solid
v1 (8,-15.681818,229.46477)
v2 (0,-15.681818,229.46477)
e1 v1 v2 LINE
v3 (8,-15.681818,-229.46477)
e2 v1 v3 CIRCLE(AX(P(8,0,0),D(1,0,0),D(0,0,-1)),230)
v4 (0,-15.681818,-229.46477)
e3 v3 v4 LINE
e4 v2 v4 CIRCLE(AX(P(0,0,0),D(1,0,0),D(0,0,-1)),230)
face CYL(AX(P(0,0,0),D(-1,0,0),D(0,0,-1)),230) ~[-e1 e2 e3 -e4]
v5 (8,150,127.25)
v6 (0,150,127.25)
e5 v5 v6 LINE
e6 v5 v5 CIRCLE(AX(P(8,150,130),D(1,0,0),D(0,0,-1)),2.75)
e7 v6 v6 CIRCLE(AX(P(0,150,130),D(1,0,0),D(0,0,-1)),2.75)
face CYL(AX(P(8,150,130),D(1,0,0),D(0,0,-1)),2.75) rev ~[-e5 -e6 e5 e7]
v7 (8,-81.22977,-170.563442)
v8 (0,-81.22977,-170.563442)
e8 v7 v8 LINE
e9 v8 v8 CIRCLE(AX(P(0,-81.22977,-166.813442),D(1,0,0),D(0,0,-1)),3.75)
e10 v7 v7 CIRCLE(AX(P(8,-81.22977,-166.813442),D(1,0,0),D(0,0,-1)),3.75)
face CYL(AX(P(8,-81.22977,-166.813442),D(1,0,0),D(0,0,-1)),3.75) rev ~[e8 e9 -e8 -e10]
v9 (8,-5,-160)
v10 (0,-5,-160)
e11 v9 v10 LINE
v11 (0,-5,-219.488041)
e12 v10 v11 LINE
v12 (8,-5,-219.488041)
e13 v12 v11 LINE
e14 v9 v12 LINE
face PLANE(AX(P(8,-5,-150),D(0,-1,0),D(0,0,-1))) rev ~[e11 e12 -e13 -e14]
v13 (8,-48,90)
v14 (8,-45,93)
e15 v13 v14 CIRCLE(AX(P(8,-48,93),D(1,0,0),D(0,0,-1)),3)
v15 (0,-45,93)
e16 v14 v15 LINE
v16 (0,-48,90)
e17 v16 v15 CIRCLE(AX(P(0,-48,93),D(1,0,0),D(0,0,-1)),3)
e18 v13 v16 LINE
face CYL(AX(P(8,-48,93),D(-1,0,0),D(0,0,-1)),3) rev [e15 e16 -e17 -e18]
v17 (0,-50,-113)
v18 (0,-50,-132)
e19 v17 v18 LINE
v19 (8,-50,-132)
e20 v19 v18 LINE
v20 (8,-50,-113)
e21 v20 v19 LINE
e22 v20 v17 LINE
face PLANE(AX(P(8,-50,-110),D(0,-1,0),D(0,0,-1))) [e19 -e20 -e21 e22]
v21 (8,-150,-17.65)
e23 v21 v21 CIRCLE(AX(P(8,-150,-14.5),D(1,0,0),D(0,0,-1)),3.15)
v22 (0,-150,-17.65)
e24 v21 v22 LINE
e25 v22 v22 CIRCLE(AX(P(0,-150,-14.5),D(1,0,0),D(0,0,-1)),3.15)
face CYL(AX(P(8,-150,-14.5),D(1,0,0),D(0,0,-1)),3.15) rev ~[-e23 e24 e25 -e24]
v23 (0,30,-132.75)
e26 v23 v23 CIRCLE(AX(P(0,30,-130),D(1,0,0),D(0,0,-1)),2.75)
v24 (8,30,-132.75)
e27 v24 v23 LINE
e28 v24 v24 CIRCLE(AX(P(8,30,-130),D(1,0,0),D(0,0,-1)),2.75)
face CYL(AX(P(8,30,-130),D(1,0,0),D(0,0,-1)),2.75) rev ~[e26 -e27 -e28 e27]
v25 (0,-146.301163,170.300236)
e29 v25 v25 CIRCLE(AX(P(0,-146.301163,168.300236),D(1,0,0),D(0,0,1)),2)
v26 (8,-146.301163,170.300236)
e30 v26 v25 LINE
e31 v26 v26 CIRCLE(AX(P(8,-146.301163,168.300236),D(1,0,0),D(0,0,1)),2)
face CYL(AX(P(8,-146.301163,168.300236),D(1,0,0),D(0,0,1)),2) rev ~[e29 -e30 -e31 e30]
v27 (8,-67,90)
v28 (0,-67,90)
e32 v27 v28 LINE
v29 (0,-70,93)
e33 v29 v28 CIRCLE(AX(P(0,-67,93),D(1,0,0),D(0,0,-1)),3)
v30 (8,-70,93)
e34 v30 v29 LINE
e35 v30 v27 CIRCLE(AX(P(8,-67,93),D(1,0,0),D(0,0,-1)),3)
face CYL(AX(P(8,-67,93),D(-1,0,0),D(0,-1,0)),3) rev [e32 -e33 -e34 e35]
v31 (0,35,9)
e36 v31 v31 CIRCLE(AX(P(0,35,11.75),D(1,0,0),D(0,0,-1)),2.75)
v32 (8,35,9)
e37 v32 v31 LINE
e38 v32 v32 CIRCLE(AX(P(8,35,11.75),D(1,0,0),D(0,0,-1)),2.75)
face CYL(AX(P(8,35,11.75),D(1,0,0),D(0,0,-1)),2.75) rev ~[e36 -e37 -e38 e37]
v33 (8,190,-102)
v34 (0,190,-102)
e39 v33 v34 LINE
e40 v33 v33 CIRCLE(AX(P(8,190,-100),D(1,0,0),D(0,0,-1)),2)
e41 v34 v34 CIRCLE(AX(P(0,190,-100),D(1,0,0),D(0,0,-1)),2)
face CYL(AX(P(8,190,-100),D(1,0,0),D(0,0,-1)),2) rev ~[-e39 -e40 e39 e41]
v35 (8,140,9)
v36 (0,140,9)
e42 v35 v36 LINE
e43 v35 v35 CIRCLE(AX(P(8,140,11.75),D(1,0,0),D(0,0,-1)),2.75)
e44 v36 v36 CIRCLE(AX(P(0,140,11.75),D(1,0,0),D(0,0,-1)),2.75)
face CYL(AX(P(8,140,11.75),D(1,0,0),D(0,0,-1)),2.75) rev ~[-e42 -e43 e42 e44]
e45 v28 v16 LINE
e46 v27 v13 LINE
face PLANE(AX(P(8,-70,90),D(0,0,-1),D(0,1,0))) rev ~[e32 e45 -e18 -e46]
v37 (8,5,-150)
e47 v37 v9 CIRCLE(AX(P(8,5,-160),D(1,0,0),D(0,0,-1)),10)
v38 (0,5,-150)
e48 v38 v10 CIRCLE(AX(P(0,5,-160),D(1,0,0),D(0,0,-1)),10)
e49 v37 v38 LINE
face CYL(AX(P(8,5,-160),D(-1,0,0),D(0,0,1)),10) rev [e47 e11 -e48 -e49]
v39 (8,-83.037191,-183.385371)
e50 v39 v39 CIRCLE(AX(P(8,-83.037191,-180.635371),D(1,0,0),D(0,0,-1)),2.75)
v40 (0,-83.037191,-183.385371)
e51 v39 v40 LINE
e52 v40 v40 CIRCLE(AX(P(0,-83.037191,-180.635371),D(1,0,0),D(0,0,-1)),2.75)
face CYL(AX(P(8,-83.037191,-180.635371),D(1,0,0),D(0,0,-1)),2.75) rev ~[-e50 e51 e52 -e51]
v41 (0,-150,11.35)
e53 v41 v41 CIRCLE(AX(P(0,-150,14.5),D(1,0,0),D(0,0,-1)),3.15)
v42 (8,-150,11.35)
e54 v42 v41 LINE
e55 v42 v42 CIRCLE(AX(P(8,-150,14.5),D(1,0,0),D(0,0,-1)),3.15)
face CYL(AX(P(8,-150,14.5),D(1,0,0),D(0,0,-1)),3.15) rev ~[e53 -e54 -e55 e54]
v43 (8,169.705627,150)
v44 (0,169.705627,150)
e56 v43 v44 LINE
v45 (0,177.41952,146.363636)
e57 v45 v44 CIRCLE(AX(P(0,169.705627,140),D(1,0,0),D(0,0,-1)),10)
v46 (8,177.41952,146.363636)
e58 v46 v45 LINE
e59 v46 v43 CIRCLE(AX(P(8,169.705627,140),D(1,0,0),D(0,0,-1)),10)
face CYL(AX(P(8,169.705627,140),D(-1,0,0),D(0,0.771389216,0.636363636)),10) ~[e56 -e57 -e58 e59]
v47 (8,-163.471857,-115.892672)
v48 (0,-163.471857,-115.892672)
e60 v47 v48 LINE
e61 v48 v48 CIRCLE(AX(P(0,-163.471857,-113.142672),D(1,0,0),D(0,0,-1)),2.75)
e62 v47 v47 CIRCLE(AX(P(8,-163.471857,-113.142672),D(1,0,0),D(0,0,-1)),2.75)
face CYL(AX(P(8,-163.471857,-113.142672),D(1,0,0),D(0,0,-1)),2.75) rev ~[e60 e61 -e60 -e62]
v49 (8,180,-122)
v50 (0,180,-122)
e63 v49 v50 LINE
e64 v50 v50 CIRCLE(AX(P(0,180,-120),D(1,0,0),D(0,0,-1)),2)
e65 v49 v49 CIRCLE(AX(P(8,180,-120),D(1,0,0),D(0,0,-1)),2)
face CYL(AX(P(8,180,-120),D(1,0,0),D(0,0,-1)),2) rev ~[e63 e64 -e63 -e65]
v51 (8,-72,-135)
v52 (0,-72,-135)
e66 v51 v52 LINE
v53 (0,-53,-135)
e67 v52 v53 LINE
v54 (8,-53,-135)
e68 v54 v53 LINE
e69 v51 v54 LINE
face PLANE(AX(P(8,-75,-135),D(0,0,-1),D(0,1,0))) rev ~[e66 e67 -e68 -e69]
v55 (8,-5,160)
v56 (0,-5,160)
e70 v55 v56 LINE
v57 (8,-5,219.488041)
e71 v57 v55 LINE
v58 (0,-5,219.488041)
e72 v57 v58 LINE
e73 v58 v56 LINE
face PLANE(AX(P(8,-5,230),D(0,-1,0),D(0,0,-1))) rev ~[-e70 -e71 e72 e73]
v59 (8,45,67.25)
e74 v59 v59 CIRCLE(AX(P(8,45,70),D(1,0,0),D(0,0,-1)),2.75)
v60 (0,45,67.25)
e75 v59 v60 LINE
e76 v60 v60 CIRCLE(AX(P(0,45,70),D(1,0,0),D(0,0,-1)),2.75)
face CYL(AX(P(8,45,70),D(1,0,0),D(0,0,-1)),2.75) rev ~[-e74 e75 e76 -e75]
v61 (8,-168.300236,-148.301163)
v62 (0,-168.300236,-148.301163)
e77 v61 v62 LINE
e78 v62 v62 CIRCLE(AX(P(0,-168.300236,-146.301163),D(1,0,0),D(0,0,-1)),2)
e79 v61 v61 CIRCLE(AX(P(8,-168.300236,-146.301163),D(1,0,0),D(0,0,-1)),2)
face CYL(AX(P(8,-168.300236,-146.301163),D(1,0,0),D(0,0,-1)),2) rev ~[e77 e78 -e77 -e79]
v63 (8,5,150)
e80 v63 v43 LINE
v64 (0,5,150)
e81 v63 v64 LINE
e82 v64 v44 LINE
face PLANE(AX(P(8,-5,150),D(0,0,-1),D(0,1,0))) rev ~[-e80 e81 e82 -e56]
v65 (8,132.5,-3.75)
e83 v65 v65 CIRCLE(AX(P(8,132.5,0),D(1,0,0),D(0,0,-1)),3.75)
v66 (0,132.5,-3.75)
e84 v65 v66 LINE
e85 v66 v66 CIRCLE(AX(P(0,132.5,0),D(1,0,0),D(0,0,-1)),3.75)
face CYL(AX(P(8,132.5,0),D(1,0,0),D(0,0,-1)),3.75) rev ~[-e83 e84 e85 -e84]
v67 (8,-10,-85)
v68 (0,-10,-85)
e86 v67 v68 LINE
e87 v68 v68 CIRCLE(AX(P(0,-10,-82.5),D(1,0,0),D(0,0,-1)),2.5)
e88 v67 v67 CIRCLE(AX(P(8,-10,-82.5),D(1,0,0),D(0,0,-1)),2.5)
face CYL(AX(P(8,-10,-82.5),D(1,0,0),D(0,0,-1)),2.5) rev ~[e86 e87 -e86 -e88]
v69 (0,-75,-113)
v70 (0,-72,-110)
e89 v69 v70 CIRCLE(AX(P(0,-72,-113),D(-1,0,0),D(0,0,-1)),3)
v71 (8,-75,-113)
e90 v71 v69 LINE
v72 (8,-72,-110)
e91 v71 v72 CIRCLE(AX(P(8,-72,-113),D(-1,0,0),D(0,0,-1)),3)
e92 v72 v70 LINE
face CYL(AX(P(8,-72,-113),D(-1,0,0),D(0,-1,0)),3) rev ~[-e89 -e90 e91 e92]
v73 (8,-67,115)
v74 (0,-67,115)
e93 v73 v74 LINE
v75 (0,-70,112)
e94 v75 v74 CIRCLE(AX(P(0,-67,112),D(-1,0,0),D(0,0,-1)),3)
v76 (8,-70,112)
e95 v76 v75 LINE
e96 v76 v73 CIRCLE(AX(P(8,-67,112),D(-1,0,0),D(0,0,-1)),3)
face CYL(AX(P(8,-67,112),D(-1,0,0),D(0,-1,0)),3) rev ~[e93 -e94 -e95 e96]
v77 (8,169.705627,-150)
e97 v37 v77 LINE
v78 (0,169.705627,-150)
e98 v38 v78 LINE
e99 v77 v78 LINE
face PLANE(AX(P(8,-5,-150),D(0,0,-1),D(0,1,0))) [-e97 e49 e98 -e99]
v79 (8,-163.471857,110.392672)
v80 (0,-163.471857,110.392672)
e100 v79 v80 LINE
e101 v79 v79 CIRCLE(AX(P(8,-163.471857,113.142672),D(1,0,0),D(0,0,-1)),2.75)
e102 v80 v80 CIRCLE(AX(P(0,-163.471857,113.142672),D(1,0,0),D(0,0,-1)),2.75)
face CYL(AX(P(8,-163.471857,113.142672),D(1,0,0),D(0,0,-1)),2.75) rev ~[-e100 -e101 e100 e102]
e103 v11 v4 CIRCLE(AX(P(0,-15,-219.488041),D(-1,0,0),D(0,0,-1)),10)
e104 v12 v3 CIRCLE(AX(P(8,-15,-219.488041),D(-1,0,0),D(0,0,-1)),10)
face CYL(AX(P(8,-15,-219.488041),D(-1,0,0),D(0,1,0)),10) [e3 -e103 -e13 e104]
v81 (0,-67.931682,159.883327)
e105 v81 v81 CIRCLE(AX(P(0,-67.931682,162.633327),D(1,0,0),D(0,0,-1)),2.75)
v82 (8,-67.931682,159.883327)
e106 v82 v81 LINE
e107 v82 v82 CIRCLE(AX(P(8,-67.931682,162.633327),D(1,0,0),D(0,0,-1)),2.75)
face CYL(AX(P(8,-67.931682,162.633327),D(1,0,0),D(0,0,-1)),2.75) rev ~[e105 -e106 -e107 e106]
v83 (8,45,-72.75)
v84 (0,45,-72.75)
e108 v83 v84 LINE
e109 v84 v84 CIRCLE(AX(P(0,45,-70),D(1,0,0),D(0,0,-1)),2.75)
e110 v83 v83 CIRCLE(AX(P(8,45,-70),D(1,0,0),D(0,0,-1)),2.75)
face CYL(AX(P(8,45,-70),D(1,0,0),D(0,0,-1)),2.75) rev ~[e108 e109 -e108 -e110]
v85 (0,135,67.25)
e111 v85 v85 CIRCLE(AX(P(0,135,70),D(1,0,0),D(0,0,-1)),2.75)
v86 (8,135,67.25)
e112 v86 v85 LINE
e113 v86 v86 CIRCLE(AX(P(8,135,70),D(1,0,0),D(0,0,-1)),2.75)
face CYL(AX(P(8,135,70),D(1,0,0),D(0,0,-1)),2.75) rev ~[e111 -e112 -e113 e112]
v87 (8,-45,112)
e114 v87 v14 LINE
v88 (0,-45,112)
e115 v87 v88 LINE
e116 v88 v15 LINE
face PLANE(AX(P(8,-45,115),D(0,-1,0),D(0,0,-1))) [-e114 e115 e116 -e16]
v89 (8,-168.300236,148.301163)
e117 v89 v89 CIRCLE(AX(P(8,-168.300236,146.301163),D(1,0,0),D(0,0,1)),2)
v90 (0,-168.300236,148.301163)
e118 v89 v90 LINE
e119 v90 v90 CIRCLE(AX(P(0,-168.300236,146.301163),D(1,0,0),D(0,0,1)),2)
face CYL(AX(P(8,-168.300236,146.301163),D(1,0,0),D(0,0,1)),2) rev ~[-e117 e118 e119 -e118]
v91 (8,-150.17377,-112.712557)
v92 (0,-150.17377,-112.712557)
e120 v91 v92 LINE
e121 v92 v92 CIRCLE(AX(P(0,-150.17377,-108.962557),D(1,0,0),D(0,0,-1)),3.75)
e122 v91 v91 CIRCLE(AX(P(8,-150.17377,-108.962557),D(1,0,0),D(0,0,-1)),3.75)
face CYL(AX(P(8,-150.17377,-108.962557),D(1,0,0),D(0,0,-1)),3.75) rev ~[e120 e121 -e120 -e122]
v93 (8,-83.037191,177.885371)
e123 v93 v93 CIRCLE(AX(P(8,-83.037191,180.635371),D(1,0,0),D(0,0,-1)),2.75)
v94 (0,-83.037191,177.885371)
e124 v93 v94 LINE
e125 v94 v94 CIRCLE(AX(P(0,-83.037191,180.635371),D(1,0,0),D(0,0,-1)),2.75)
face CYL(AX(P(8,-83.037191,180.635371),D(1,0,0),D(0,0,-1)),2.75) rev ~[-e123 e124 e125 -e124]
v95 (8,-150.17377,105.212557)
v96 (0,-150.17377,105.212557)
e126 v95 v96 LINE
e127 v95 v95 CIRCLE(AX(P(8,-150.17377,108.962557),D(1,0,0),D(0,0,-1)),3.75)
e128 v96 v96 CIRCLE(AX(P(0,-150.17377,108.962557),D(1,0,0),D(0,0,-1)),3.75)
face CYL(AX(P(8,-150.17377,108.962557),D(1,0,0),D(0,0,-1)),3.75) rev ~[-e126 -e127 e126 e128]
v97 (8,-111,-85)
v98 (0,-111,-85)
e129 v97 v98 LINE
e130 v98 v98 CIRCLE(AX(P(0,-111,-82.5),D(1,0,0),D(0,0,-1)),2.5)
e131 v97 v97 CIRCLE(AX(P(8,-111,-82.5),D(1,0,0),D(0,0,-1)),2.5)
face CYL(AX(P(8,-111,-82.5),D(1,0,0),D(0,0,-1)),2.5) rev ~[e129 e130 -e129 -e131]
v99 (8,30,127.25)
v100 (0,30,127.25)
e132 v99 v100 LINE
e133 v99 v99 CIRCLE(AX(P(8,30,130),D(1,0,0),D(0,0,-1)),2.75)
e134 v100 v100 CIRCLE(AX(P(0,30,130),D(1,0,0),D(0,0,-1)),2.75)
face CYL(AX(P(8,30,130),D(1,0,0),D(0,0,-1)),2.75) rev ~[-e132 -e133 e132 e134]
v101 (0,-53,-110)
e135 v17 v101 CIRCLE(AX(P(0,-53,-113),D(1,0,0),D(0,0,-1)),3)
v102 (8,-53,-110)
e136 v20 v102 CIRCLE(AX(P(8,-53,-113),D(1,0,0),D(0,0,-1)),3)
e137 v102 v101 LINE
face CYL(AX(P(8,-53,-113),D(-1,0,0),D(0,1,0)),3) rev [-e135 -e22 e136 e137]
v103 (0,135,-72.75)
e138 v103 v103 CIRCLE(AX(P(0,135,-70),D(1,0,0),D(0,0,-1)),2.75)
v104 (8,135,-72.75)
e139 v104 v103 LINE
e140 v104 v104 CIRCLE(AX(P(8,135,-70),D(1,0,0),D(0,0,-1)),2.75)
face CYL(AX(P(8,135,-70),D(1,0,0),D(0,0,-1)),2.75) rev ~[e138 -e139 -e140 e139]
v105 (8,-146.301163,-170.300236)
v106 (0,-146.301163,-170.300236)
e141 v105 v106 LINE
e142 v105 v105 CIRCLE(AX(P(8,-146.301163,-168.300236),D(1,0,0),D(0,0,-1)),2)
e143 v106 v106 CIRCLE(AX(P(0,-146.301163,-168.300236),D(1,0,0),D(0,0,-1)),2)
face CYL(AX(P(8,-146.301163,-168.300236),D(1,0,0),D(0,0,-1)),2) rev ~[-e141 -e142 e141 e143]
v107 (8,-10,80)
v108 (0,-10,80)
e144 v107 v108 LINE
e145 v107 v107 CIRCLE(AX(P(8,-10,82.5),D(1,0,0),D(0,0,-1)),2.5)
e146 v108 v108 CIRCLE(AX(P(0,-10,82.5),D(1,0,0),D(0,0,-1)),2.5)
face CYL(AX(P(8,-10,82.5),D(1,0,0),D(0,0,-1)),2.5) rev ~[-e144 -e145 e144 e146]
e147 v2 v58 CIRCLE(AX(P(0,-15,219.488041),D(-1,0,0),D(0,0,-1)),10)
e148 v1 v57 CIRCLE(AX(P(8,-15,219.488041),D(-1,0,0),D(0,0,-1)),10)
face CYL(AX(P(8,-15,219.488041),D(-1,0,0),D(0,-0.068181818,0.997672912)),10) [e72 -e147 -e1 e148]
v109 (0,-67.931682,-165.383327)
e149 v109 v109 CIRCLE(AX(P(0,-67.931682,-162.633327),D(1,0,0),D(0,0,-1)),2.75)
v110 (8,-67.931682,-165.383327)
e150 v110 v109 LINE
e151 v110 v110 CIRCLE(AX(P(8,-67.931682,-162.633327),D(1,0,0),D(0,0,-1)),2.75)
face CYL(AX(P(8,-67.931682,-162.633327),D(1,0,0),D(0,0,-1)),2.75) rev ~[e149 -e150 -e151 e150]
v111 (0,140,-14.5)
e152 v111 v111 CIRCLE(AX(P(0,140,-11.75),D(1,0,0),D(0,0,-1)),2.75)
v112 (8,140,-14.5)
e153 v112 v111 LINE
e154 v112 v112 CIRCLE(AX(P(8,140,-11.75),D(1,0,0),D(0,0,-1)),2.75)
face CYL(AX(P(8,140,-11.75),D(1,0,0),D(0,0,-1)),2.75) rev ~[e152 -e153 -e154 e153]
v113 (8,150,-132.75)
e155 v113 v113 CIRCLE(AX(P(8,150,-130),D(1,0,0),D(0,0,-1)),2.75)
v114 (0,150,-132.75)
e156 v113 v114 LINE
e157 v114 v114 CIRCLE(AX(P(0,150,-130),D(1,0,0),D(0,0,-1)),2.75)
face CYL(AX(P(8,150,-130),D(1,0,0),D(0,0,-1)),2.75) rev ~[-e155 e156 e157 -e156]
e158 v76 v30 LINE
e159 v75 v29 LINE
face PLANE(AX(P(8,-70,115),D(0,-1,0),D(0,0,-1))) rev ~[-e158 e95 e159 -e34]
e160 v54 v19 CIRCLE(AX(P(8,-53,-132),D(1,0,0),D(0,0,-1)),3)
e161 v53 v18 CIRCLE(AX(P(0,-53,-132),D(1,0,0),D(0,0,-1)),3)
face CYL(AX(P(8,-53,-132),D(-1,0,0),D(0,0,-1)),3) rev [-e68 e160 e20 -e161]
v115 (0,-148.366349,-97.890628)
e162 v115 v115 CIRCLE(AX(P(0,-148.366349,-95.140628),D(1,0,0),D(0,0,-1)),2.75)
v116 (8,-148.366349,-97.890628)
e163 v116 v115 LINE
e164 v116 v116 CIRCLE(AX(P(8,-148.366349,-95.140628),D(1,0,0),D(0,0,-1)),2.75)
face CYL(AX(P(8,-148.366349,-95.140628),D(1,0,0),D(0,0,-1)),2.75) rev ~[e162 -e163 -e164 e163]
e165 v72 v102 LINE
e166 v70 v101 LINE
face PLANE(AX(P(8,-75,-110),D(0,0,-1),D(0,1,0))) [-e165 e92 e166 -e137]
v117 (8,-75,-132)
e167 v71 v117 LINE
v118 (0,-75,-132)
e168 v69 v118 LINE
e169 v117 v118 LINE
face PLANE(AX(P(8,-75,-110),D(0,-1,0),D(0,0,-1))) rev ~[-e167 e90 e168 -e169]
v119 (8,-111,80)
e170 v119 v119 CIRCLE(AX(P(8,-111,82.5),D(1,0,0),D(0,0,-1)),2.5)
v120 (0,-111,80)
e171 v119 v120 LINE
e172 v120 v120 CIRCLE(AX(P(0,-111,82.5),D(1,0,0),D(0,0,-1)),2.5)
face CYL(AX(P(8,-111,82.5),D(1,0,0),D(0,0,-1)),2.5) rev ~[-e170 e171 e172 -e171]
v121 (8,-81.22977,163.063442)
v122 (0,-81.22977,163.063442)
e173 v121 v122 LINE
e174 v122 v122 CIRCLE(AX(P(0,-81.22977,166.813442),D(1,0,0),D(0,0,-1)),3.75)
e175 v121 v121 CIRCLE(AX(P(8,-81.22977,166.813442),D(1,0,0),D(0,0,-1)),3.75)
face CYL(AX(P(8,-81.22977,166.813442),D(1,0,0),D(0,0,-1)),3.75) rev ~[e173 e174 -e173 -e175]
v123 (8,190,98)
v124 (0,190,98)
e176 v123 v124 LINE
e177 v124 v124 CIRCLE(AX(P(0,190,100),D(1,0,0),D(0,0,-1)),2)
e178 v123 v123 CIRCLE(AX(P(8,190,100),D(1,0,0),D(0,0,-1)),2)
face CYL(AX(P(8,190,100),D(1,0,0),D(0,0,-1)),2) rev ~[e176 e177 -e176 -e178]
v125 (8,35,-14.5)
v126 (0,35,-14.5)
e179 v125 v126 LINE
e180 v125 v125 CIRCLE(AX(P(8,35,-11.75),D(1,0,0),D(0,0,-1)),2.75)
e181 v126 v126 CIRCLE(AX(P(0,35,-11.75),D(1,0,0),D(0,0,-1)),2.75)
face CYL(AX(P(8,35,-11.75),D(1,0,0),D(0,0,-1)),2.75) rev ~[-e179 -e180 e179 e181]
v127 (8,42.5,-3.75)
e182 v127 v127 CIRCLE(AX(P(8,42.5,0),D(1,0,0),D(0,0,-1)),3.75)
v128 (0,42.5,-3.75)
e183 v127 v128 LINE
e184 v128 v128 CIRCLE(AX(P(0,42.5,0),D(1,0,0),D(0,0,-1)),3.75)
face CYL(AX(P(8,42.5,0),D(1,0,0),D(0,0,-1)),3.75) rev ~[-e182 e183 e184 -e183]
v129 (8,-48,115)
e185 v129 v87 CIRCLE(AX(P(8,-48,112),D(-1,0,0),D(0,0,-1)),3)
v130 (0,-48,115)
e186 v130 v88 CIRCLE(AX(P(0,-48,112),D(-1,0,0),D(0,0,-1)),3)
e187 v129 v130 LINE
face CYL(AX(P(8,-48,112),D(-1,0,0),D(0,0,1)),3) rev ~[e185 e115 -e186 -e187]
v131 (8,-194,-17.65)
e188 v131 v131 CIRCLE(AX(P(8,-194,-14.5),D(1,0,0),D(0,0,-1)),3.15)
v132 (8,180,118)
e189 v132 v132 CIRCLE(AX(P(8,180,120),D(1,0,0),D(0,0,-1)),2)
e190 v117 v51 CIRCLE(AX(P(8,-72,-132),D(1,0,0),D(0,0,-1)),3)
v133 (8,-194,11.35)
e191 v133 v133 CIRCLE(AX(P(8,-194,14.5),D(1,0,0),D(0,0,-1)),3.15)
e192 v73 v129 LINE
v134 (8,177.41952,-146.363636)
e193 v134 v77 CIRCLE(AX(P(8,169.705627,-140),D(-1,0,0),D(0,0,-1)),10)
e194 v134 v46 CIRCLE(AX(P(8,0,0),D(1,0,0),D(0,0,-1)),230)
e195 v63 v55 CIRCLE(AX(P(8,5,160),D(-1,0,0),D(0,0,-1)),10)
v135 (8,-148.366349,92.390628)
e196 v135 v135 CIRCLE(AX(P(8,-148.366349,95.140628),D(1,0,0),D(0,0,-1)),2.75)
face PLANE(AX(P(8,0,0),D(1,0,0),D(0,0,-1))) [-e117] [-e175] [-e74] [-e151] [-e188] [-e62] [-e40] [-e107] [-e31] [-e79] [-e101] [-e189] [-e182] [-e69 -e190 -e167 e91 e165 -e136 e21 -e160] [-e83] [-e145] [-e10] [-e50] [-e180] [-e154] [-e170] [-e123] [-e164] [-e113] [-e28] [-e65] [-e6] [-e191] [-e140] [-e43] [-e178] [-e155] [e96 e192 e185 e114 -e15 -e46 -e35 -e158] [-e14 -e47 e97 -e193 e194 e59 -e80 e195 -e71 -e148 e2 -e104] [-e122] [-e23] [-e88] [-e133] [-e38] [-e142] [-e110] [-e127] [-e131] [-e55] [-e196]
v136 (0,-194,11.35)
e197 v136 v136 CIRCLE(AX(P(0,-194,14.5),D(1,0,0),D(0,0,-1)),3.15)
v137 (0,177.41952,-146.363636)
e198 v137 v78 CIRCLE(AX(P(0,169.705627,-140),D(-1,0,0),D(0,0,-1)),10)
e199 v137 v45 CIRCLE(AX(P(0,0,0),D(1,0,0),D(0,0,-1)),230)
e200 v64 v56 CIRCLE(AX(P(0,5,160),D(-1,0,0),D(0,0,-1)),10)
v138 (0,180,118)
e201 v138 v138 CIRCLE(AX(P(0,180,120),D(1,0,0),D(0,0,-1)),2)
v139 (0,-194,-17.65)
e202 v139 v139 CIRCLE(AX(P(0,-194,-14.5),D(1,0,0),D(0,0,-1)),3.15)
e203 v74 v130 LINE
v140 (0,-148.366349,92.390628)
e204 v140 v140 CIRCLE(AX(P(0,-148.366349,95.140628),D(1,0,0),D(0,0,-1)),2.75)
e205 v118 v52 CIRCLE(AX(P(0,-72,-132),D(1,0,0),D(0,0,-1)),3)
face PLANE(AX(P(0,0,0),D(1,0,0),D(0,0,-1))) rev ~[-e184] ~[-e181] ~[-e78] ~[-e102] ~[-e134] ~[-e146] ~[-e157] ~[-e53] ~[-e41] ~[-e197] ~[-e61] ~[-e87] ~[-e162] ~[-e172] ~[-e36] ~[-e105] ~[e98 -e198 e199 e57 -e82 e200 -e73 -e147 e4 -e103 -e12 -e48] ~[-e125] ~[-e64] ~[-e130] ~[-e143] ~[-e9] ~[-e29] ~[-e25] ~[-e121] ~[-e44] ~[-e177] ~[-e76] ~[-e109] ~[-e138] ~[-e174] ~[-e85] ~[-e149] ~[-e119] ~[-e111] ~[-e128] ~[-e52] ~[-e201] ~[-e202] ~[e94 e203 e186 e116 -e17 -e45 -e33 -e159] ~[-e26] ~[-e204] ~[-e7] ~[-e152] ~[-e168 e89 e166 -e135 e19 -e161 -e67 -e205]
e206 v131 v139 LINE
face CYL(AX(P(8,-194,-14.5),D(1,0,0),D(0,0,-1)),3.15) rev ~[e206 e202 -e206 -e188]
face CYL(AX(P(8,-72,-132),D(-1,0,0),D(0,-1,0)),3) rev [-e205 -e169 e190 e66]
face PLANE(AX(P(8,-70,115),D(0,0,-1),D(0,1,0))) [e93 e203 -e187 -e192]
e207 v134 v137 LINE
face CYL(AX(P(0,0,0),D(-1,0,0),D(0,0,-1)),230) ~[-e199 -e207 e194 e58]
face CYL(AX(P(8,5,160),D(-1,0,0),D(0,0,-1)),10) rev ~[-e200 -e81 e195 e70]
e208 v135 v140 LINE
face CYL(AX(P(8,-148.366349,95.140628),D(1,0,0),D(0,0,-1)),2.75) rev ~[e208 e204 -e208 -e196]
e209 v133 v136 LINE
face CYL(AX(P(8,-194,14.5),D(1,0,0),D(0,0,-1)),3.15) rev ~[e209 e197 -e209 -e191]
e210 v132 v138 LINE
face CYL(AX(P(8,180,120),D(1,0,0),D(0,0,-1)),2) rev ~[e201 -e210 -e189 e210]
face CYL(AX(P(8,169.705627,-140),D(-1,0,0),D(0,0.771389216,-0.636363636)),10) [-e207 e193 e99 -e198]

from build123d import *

# Parameters (mm, degrees)
SKETCH_1_R           = 230
EXTRUDE_1_DEPTH      = 8
SKETCH_2_W           = 80
SKETCH_2_H           = 200
CUT_EXTRUDE_1_DEPTH  = 12
SKETCH_3_R           = 2.75
CUT_EXTRUDE_2_DEPTH  = 12
SKETCH_4_R           = 3.15
CUT_EXTRUDE_3_DEPTH  = 12
SKETCH_5_R           = 3.75
SKETCH_5_R_2         = 2.75
CUT_EXTRUDE_4_DEPTH  = 10
FILLET_1_R           = 10
SKETCH_6_W           = 25
SKETCH_6_H           = 25
CUT_EXTRUDE_5_DEPTH  = 10
SKETCH_7_R           = 2.5
CUT_EXTRUDE_6_DEPTH  = 10
SKETCH_8_W           = 25
SKETCH_8_H           = 25
CUT_EXTRUDE_7_DEPTH  = 10
FILLET_3_R           = 3
SKETCH_10_R          = 2
CUT_EXTRUDE_9_DEPTH  = 326.005785815
SKETCH_11_R          = 2
CUT_EXTRUDE_10_DEPTH = 25
FILLET_4_R           = 3


with BuildPart() as part:
    # 草图1 → 凸台-拉伸1 (new body)
    with BuildSketch(Plane(origin=(0, 0, 0), x_dir=(0, 0, -1), z_dir=(1, 0, 0))):
        Circle(SKETCH_1_R)
    extrude(amount=EXTRUDE_1_DEPTH)

    # 草图2 → 切除-拉伸1 (cut)
    with BuildSketch(Plane(origin=(8, 0, 0), x_dir=(0, 0, -1), z_dir=(1, 0, 0))):
        with Locations((-190, 95)):
            Rectangle(SKETCH_2_W, SKETCH_2_H)
        with Locations((190, 95)):
            Rectangle(SKETCH_2_W, SKETCH_2_H)
    extrude(amount=-CUT_EXTRUDE_1_DEPTH, mode=Mode.SUBTRACT)

    # 草图3 → 切除-拉伸2 (cut)
    with BuildSketch(Plane(origin=(8, 0, 0), x_dir=(0, 0, -1), z_dir=(1, 0, 0))):
        with Locations((-130, 150)):
            Circle(SKETCH_3_R)
        with Locations((-130, 30)):
            Circle(SKETCH_3_R)
        with Locations((130, 30)):
            Circle(SKETCH_3_R)
        with Locations((130, 150)):
            Circle(SKETCH_3_R)
        with Locations((-70, 135)):
            Circle(SKETCH_3_R)
        with Locations((-70, 45)):
            Circle(SKETCH_3_R)
        with Locations((70, 135)):
            Circle(SKETCH_3_R)
        with Locations((70, 45)):
            Circle(SKETCH_3_R)
    extrude(amount=-CUT_EXTRUDE_2_DEPTH, mode=Mode.SUBTRACT)

    # 草图4 → 切除-拉伸3 (cut)
    with BuildSketch(Plane(origin=(8, 0, 0), x_dir=(0, 0, -1), z_dir=(1, 0, 0))):
        with Locations((-14.5, -150)):
            Circle(SKETCH_4_R)
        with Locations((14.5, -150)):
            Circle(SKETCH_4_R)
        with Locations((14.5, -194)):
            Circle(SKETCH_4_R)
        with Locations((-14.5, -194)):
            Circle(SKETCH_4_R)
    extrude(amount=-CUT_EXTRUDE_3_DEPTH, mode=Mode.SUBTRACT)

    # 草图5 → 切除-拉伸4 (cut)
    with BuildSketch(Plane(origin=(8, 0, 0), x_dir=(0, 0, -1), z_dir=(1, 0, 0))):
        with Locations((166.813442197, -81.229769803)):
            Circle(SKETCH_5_R)
        with Locations((108.962557326, -150.173769684)):
            Circle(SKETCH_5_R)
        with Locations((-108.962557326, -150.173769684)):
            Circle(SKETCH_5_R)
        with Locations((-166.813442197, -81.229769803)):
            Circle(SKETCH_5_R)
        with Locations((-11.75, 35)):
            Circle(SKETCH_5_R_2)
        with Locations((11.75, 35)):
            Circle(SKETCH_5_R_2)
        with Locations((95.140628046, -148.366348594)):
            Circle(SKETCH_5_R_2)
        with Locations((162.633327063, -67.931682066)):
            Circle(SKETCH_5_R_2)
        with Locations((180.635371477, -83.037190894)):
            Circle(SKETCH_5_R_2)
        with Locations((113.14267246, -163.471857421)):
            Circle(SKETCH_5_R_2)
        with Locations((-180.635371477, -83.037190894)):
            Circle(SKETCH_5_R_2)
        with Locations((-162.633327063, -67.931682066)):
            Circle(SKETCH_5_R_2)
        with Locations((-95.140628046, -148.366348594)):
            Circle(SKETCH_5_R_2)
        with Locations((-113.14267246, -163.471857421)):
            Circle(SKETCH_5_R_2)
        with Locations((11.75, 140)):
            Circle(SKETCH_5_R_2)
        with Locations((-11.75, 140)):
            Circle(SKETCH_5_R_2)
        with Locations((0, 132.5)):
            Circle(SKETCH_5_R)
        with Locations((0, 42.5)):
            Circle(SKETCH_5_R)
    extrude(amount=-CUT_EXTRUDE_4_DEPTH, mode=Mode.SUBTRACT)

    # 圆角1
    fillet_1_edges = [part.edges().sort_by_distance(p)[0] for p in [
        (4, 174.355957742, -150),
        (4, -5, -150),
        (4, -5, -229.945645751),
        (4, 174.355957742, 150),
        (4, -5, 229.945645751),
        (4, -5, 150),
    ]]
    fillet(fillet_1_edges, radius=FILLET_1_R)

    # 草图6 → 切除-拉伸5 (cut)
    with BuildSketch(Plane(origin=(8, 0, 0), x_dir=(0, 0, -1), z_dir=(1, 0, 0))):
        with Locations((-102.5, -57.5)):
            Rectangle(SKETCH_6_W, SKETCH_6_H)
    extrude(amount=-CUT_EXTRUDE_5_DEPTH, mode=Mode.SUBTRACT)

    # 草图7 → 切除-拉伸6 (cut)
    with BuildSketch(Plane(origin=(8, 0, 0), x_dir=(0, 0, -1), z_dir=(1, 0, 0))):
        with Locations((82.5, -10)):
            Circle(SKETCH_7_R)
        with Locations((82.5, -111)):
            Circle(SKETCH_7_R)
        with Locations((-82.5, -10)):
            Circle(SKETCH_7_R)
        with Locations((-82.5, -111)):
            Circle(SKETCH_7_R)
    extrude(amount=-CUT_EXTRUDE_6_DEPTH, mode=Mode.SUBTRACT)

    # 草图8 → 切除-拉伸7 (cut)
    with BuildSketch(Plane(origin=(8, 0, 0), x_dir=(0, 0, -1), z_dir=(1, 0, 0))):
        with Locations((122.5, -62.5)):
            Rectangle(SKETCH_8_W, SKETCH_8_H)
    extrude(amount=-CUT_EXTRUDE_7_DEPTH, mode=Mode.SUBTRACT)

    # 圆角3
    fillet_3_edges = [part.edges().sort_by_distance(p)[0] for p in [
        (4, -75, -110),
        (4, -50, -110),
        (4, -50, -135),
        (4, -75, -135),
    ]]
    fillet(fillet_3_edges, radius=FILLET_3_R)

    # 草图10 → 切除-拉伸9 (cut, through all)
    with BuildSketch(Plane(origin=(8, 0, 0), x_dir=(0, 0, -1), z_dir=(1, 0, 0))):
        with Locations((168.30023639, -146.301163465)):
            Circle(SKETCH_10_R)
        with Locations((146.301163465, -168.30023639)):
            Circle(SKETCH_10_R)
        with Locations(Location((-146.301163465, -168.30023639, 0), (0, 0, 180))):
            Circle(SKETCH_10_R)
        with Locations(Location((-168.30023639, -146.301163465, 0), (0, 0, 180))):
            Circle(SKETCH_10_R)
    extrude(amount=-CUT_EXTRUDE_9_DEPTH, mode=Mode.SUBTRACT)

    # 草图11 → 切除-拉伸10 (cut)
    with BuildSketch(Plane(origin=(8, 0, 0), x_dir=(0, 0, -1), z_dir=(1, 0, 0))):
        with Locations((100, 190)):
            Circle(SKETCH_11_R)
        with Locations((120, 180)):
            Circle(SKETCH_11_R)
        with Locations((-120, 180)):
            Circle(SKETCH_11_R)
        with Locations((-100, 190)):
            Circle(SKETCH_11_R)
    extrude(amount=-CUT_EXTRUDE_10_DEPTH, mode=Mode.SUBTRACT)

    # 圆角4
    fillet_4_edges = [part.edges().sort_by_distance(p)[0] for p in [
        (4, -70, 115),
        (4, -45, 115),
        (4, -45, 90),
        (4, -70, 90),
    ]]
    fillet(fillet_4_edges, radius=FILLET_4_R)


solid = part.part
